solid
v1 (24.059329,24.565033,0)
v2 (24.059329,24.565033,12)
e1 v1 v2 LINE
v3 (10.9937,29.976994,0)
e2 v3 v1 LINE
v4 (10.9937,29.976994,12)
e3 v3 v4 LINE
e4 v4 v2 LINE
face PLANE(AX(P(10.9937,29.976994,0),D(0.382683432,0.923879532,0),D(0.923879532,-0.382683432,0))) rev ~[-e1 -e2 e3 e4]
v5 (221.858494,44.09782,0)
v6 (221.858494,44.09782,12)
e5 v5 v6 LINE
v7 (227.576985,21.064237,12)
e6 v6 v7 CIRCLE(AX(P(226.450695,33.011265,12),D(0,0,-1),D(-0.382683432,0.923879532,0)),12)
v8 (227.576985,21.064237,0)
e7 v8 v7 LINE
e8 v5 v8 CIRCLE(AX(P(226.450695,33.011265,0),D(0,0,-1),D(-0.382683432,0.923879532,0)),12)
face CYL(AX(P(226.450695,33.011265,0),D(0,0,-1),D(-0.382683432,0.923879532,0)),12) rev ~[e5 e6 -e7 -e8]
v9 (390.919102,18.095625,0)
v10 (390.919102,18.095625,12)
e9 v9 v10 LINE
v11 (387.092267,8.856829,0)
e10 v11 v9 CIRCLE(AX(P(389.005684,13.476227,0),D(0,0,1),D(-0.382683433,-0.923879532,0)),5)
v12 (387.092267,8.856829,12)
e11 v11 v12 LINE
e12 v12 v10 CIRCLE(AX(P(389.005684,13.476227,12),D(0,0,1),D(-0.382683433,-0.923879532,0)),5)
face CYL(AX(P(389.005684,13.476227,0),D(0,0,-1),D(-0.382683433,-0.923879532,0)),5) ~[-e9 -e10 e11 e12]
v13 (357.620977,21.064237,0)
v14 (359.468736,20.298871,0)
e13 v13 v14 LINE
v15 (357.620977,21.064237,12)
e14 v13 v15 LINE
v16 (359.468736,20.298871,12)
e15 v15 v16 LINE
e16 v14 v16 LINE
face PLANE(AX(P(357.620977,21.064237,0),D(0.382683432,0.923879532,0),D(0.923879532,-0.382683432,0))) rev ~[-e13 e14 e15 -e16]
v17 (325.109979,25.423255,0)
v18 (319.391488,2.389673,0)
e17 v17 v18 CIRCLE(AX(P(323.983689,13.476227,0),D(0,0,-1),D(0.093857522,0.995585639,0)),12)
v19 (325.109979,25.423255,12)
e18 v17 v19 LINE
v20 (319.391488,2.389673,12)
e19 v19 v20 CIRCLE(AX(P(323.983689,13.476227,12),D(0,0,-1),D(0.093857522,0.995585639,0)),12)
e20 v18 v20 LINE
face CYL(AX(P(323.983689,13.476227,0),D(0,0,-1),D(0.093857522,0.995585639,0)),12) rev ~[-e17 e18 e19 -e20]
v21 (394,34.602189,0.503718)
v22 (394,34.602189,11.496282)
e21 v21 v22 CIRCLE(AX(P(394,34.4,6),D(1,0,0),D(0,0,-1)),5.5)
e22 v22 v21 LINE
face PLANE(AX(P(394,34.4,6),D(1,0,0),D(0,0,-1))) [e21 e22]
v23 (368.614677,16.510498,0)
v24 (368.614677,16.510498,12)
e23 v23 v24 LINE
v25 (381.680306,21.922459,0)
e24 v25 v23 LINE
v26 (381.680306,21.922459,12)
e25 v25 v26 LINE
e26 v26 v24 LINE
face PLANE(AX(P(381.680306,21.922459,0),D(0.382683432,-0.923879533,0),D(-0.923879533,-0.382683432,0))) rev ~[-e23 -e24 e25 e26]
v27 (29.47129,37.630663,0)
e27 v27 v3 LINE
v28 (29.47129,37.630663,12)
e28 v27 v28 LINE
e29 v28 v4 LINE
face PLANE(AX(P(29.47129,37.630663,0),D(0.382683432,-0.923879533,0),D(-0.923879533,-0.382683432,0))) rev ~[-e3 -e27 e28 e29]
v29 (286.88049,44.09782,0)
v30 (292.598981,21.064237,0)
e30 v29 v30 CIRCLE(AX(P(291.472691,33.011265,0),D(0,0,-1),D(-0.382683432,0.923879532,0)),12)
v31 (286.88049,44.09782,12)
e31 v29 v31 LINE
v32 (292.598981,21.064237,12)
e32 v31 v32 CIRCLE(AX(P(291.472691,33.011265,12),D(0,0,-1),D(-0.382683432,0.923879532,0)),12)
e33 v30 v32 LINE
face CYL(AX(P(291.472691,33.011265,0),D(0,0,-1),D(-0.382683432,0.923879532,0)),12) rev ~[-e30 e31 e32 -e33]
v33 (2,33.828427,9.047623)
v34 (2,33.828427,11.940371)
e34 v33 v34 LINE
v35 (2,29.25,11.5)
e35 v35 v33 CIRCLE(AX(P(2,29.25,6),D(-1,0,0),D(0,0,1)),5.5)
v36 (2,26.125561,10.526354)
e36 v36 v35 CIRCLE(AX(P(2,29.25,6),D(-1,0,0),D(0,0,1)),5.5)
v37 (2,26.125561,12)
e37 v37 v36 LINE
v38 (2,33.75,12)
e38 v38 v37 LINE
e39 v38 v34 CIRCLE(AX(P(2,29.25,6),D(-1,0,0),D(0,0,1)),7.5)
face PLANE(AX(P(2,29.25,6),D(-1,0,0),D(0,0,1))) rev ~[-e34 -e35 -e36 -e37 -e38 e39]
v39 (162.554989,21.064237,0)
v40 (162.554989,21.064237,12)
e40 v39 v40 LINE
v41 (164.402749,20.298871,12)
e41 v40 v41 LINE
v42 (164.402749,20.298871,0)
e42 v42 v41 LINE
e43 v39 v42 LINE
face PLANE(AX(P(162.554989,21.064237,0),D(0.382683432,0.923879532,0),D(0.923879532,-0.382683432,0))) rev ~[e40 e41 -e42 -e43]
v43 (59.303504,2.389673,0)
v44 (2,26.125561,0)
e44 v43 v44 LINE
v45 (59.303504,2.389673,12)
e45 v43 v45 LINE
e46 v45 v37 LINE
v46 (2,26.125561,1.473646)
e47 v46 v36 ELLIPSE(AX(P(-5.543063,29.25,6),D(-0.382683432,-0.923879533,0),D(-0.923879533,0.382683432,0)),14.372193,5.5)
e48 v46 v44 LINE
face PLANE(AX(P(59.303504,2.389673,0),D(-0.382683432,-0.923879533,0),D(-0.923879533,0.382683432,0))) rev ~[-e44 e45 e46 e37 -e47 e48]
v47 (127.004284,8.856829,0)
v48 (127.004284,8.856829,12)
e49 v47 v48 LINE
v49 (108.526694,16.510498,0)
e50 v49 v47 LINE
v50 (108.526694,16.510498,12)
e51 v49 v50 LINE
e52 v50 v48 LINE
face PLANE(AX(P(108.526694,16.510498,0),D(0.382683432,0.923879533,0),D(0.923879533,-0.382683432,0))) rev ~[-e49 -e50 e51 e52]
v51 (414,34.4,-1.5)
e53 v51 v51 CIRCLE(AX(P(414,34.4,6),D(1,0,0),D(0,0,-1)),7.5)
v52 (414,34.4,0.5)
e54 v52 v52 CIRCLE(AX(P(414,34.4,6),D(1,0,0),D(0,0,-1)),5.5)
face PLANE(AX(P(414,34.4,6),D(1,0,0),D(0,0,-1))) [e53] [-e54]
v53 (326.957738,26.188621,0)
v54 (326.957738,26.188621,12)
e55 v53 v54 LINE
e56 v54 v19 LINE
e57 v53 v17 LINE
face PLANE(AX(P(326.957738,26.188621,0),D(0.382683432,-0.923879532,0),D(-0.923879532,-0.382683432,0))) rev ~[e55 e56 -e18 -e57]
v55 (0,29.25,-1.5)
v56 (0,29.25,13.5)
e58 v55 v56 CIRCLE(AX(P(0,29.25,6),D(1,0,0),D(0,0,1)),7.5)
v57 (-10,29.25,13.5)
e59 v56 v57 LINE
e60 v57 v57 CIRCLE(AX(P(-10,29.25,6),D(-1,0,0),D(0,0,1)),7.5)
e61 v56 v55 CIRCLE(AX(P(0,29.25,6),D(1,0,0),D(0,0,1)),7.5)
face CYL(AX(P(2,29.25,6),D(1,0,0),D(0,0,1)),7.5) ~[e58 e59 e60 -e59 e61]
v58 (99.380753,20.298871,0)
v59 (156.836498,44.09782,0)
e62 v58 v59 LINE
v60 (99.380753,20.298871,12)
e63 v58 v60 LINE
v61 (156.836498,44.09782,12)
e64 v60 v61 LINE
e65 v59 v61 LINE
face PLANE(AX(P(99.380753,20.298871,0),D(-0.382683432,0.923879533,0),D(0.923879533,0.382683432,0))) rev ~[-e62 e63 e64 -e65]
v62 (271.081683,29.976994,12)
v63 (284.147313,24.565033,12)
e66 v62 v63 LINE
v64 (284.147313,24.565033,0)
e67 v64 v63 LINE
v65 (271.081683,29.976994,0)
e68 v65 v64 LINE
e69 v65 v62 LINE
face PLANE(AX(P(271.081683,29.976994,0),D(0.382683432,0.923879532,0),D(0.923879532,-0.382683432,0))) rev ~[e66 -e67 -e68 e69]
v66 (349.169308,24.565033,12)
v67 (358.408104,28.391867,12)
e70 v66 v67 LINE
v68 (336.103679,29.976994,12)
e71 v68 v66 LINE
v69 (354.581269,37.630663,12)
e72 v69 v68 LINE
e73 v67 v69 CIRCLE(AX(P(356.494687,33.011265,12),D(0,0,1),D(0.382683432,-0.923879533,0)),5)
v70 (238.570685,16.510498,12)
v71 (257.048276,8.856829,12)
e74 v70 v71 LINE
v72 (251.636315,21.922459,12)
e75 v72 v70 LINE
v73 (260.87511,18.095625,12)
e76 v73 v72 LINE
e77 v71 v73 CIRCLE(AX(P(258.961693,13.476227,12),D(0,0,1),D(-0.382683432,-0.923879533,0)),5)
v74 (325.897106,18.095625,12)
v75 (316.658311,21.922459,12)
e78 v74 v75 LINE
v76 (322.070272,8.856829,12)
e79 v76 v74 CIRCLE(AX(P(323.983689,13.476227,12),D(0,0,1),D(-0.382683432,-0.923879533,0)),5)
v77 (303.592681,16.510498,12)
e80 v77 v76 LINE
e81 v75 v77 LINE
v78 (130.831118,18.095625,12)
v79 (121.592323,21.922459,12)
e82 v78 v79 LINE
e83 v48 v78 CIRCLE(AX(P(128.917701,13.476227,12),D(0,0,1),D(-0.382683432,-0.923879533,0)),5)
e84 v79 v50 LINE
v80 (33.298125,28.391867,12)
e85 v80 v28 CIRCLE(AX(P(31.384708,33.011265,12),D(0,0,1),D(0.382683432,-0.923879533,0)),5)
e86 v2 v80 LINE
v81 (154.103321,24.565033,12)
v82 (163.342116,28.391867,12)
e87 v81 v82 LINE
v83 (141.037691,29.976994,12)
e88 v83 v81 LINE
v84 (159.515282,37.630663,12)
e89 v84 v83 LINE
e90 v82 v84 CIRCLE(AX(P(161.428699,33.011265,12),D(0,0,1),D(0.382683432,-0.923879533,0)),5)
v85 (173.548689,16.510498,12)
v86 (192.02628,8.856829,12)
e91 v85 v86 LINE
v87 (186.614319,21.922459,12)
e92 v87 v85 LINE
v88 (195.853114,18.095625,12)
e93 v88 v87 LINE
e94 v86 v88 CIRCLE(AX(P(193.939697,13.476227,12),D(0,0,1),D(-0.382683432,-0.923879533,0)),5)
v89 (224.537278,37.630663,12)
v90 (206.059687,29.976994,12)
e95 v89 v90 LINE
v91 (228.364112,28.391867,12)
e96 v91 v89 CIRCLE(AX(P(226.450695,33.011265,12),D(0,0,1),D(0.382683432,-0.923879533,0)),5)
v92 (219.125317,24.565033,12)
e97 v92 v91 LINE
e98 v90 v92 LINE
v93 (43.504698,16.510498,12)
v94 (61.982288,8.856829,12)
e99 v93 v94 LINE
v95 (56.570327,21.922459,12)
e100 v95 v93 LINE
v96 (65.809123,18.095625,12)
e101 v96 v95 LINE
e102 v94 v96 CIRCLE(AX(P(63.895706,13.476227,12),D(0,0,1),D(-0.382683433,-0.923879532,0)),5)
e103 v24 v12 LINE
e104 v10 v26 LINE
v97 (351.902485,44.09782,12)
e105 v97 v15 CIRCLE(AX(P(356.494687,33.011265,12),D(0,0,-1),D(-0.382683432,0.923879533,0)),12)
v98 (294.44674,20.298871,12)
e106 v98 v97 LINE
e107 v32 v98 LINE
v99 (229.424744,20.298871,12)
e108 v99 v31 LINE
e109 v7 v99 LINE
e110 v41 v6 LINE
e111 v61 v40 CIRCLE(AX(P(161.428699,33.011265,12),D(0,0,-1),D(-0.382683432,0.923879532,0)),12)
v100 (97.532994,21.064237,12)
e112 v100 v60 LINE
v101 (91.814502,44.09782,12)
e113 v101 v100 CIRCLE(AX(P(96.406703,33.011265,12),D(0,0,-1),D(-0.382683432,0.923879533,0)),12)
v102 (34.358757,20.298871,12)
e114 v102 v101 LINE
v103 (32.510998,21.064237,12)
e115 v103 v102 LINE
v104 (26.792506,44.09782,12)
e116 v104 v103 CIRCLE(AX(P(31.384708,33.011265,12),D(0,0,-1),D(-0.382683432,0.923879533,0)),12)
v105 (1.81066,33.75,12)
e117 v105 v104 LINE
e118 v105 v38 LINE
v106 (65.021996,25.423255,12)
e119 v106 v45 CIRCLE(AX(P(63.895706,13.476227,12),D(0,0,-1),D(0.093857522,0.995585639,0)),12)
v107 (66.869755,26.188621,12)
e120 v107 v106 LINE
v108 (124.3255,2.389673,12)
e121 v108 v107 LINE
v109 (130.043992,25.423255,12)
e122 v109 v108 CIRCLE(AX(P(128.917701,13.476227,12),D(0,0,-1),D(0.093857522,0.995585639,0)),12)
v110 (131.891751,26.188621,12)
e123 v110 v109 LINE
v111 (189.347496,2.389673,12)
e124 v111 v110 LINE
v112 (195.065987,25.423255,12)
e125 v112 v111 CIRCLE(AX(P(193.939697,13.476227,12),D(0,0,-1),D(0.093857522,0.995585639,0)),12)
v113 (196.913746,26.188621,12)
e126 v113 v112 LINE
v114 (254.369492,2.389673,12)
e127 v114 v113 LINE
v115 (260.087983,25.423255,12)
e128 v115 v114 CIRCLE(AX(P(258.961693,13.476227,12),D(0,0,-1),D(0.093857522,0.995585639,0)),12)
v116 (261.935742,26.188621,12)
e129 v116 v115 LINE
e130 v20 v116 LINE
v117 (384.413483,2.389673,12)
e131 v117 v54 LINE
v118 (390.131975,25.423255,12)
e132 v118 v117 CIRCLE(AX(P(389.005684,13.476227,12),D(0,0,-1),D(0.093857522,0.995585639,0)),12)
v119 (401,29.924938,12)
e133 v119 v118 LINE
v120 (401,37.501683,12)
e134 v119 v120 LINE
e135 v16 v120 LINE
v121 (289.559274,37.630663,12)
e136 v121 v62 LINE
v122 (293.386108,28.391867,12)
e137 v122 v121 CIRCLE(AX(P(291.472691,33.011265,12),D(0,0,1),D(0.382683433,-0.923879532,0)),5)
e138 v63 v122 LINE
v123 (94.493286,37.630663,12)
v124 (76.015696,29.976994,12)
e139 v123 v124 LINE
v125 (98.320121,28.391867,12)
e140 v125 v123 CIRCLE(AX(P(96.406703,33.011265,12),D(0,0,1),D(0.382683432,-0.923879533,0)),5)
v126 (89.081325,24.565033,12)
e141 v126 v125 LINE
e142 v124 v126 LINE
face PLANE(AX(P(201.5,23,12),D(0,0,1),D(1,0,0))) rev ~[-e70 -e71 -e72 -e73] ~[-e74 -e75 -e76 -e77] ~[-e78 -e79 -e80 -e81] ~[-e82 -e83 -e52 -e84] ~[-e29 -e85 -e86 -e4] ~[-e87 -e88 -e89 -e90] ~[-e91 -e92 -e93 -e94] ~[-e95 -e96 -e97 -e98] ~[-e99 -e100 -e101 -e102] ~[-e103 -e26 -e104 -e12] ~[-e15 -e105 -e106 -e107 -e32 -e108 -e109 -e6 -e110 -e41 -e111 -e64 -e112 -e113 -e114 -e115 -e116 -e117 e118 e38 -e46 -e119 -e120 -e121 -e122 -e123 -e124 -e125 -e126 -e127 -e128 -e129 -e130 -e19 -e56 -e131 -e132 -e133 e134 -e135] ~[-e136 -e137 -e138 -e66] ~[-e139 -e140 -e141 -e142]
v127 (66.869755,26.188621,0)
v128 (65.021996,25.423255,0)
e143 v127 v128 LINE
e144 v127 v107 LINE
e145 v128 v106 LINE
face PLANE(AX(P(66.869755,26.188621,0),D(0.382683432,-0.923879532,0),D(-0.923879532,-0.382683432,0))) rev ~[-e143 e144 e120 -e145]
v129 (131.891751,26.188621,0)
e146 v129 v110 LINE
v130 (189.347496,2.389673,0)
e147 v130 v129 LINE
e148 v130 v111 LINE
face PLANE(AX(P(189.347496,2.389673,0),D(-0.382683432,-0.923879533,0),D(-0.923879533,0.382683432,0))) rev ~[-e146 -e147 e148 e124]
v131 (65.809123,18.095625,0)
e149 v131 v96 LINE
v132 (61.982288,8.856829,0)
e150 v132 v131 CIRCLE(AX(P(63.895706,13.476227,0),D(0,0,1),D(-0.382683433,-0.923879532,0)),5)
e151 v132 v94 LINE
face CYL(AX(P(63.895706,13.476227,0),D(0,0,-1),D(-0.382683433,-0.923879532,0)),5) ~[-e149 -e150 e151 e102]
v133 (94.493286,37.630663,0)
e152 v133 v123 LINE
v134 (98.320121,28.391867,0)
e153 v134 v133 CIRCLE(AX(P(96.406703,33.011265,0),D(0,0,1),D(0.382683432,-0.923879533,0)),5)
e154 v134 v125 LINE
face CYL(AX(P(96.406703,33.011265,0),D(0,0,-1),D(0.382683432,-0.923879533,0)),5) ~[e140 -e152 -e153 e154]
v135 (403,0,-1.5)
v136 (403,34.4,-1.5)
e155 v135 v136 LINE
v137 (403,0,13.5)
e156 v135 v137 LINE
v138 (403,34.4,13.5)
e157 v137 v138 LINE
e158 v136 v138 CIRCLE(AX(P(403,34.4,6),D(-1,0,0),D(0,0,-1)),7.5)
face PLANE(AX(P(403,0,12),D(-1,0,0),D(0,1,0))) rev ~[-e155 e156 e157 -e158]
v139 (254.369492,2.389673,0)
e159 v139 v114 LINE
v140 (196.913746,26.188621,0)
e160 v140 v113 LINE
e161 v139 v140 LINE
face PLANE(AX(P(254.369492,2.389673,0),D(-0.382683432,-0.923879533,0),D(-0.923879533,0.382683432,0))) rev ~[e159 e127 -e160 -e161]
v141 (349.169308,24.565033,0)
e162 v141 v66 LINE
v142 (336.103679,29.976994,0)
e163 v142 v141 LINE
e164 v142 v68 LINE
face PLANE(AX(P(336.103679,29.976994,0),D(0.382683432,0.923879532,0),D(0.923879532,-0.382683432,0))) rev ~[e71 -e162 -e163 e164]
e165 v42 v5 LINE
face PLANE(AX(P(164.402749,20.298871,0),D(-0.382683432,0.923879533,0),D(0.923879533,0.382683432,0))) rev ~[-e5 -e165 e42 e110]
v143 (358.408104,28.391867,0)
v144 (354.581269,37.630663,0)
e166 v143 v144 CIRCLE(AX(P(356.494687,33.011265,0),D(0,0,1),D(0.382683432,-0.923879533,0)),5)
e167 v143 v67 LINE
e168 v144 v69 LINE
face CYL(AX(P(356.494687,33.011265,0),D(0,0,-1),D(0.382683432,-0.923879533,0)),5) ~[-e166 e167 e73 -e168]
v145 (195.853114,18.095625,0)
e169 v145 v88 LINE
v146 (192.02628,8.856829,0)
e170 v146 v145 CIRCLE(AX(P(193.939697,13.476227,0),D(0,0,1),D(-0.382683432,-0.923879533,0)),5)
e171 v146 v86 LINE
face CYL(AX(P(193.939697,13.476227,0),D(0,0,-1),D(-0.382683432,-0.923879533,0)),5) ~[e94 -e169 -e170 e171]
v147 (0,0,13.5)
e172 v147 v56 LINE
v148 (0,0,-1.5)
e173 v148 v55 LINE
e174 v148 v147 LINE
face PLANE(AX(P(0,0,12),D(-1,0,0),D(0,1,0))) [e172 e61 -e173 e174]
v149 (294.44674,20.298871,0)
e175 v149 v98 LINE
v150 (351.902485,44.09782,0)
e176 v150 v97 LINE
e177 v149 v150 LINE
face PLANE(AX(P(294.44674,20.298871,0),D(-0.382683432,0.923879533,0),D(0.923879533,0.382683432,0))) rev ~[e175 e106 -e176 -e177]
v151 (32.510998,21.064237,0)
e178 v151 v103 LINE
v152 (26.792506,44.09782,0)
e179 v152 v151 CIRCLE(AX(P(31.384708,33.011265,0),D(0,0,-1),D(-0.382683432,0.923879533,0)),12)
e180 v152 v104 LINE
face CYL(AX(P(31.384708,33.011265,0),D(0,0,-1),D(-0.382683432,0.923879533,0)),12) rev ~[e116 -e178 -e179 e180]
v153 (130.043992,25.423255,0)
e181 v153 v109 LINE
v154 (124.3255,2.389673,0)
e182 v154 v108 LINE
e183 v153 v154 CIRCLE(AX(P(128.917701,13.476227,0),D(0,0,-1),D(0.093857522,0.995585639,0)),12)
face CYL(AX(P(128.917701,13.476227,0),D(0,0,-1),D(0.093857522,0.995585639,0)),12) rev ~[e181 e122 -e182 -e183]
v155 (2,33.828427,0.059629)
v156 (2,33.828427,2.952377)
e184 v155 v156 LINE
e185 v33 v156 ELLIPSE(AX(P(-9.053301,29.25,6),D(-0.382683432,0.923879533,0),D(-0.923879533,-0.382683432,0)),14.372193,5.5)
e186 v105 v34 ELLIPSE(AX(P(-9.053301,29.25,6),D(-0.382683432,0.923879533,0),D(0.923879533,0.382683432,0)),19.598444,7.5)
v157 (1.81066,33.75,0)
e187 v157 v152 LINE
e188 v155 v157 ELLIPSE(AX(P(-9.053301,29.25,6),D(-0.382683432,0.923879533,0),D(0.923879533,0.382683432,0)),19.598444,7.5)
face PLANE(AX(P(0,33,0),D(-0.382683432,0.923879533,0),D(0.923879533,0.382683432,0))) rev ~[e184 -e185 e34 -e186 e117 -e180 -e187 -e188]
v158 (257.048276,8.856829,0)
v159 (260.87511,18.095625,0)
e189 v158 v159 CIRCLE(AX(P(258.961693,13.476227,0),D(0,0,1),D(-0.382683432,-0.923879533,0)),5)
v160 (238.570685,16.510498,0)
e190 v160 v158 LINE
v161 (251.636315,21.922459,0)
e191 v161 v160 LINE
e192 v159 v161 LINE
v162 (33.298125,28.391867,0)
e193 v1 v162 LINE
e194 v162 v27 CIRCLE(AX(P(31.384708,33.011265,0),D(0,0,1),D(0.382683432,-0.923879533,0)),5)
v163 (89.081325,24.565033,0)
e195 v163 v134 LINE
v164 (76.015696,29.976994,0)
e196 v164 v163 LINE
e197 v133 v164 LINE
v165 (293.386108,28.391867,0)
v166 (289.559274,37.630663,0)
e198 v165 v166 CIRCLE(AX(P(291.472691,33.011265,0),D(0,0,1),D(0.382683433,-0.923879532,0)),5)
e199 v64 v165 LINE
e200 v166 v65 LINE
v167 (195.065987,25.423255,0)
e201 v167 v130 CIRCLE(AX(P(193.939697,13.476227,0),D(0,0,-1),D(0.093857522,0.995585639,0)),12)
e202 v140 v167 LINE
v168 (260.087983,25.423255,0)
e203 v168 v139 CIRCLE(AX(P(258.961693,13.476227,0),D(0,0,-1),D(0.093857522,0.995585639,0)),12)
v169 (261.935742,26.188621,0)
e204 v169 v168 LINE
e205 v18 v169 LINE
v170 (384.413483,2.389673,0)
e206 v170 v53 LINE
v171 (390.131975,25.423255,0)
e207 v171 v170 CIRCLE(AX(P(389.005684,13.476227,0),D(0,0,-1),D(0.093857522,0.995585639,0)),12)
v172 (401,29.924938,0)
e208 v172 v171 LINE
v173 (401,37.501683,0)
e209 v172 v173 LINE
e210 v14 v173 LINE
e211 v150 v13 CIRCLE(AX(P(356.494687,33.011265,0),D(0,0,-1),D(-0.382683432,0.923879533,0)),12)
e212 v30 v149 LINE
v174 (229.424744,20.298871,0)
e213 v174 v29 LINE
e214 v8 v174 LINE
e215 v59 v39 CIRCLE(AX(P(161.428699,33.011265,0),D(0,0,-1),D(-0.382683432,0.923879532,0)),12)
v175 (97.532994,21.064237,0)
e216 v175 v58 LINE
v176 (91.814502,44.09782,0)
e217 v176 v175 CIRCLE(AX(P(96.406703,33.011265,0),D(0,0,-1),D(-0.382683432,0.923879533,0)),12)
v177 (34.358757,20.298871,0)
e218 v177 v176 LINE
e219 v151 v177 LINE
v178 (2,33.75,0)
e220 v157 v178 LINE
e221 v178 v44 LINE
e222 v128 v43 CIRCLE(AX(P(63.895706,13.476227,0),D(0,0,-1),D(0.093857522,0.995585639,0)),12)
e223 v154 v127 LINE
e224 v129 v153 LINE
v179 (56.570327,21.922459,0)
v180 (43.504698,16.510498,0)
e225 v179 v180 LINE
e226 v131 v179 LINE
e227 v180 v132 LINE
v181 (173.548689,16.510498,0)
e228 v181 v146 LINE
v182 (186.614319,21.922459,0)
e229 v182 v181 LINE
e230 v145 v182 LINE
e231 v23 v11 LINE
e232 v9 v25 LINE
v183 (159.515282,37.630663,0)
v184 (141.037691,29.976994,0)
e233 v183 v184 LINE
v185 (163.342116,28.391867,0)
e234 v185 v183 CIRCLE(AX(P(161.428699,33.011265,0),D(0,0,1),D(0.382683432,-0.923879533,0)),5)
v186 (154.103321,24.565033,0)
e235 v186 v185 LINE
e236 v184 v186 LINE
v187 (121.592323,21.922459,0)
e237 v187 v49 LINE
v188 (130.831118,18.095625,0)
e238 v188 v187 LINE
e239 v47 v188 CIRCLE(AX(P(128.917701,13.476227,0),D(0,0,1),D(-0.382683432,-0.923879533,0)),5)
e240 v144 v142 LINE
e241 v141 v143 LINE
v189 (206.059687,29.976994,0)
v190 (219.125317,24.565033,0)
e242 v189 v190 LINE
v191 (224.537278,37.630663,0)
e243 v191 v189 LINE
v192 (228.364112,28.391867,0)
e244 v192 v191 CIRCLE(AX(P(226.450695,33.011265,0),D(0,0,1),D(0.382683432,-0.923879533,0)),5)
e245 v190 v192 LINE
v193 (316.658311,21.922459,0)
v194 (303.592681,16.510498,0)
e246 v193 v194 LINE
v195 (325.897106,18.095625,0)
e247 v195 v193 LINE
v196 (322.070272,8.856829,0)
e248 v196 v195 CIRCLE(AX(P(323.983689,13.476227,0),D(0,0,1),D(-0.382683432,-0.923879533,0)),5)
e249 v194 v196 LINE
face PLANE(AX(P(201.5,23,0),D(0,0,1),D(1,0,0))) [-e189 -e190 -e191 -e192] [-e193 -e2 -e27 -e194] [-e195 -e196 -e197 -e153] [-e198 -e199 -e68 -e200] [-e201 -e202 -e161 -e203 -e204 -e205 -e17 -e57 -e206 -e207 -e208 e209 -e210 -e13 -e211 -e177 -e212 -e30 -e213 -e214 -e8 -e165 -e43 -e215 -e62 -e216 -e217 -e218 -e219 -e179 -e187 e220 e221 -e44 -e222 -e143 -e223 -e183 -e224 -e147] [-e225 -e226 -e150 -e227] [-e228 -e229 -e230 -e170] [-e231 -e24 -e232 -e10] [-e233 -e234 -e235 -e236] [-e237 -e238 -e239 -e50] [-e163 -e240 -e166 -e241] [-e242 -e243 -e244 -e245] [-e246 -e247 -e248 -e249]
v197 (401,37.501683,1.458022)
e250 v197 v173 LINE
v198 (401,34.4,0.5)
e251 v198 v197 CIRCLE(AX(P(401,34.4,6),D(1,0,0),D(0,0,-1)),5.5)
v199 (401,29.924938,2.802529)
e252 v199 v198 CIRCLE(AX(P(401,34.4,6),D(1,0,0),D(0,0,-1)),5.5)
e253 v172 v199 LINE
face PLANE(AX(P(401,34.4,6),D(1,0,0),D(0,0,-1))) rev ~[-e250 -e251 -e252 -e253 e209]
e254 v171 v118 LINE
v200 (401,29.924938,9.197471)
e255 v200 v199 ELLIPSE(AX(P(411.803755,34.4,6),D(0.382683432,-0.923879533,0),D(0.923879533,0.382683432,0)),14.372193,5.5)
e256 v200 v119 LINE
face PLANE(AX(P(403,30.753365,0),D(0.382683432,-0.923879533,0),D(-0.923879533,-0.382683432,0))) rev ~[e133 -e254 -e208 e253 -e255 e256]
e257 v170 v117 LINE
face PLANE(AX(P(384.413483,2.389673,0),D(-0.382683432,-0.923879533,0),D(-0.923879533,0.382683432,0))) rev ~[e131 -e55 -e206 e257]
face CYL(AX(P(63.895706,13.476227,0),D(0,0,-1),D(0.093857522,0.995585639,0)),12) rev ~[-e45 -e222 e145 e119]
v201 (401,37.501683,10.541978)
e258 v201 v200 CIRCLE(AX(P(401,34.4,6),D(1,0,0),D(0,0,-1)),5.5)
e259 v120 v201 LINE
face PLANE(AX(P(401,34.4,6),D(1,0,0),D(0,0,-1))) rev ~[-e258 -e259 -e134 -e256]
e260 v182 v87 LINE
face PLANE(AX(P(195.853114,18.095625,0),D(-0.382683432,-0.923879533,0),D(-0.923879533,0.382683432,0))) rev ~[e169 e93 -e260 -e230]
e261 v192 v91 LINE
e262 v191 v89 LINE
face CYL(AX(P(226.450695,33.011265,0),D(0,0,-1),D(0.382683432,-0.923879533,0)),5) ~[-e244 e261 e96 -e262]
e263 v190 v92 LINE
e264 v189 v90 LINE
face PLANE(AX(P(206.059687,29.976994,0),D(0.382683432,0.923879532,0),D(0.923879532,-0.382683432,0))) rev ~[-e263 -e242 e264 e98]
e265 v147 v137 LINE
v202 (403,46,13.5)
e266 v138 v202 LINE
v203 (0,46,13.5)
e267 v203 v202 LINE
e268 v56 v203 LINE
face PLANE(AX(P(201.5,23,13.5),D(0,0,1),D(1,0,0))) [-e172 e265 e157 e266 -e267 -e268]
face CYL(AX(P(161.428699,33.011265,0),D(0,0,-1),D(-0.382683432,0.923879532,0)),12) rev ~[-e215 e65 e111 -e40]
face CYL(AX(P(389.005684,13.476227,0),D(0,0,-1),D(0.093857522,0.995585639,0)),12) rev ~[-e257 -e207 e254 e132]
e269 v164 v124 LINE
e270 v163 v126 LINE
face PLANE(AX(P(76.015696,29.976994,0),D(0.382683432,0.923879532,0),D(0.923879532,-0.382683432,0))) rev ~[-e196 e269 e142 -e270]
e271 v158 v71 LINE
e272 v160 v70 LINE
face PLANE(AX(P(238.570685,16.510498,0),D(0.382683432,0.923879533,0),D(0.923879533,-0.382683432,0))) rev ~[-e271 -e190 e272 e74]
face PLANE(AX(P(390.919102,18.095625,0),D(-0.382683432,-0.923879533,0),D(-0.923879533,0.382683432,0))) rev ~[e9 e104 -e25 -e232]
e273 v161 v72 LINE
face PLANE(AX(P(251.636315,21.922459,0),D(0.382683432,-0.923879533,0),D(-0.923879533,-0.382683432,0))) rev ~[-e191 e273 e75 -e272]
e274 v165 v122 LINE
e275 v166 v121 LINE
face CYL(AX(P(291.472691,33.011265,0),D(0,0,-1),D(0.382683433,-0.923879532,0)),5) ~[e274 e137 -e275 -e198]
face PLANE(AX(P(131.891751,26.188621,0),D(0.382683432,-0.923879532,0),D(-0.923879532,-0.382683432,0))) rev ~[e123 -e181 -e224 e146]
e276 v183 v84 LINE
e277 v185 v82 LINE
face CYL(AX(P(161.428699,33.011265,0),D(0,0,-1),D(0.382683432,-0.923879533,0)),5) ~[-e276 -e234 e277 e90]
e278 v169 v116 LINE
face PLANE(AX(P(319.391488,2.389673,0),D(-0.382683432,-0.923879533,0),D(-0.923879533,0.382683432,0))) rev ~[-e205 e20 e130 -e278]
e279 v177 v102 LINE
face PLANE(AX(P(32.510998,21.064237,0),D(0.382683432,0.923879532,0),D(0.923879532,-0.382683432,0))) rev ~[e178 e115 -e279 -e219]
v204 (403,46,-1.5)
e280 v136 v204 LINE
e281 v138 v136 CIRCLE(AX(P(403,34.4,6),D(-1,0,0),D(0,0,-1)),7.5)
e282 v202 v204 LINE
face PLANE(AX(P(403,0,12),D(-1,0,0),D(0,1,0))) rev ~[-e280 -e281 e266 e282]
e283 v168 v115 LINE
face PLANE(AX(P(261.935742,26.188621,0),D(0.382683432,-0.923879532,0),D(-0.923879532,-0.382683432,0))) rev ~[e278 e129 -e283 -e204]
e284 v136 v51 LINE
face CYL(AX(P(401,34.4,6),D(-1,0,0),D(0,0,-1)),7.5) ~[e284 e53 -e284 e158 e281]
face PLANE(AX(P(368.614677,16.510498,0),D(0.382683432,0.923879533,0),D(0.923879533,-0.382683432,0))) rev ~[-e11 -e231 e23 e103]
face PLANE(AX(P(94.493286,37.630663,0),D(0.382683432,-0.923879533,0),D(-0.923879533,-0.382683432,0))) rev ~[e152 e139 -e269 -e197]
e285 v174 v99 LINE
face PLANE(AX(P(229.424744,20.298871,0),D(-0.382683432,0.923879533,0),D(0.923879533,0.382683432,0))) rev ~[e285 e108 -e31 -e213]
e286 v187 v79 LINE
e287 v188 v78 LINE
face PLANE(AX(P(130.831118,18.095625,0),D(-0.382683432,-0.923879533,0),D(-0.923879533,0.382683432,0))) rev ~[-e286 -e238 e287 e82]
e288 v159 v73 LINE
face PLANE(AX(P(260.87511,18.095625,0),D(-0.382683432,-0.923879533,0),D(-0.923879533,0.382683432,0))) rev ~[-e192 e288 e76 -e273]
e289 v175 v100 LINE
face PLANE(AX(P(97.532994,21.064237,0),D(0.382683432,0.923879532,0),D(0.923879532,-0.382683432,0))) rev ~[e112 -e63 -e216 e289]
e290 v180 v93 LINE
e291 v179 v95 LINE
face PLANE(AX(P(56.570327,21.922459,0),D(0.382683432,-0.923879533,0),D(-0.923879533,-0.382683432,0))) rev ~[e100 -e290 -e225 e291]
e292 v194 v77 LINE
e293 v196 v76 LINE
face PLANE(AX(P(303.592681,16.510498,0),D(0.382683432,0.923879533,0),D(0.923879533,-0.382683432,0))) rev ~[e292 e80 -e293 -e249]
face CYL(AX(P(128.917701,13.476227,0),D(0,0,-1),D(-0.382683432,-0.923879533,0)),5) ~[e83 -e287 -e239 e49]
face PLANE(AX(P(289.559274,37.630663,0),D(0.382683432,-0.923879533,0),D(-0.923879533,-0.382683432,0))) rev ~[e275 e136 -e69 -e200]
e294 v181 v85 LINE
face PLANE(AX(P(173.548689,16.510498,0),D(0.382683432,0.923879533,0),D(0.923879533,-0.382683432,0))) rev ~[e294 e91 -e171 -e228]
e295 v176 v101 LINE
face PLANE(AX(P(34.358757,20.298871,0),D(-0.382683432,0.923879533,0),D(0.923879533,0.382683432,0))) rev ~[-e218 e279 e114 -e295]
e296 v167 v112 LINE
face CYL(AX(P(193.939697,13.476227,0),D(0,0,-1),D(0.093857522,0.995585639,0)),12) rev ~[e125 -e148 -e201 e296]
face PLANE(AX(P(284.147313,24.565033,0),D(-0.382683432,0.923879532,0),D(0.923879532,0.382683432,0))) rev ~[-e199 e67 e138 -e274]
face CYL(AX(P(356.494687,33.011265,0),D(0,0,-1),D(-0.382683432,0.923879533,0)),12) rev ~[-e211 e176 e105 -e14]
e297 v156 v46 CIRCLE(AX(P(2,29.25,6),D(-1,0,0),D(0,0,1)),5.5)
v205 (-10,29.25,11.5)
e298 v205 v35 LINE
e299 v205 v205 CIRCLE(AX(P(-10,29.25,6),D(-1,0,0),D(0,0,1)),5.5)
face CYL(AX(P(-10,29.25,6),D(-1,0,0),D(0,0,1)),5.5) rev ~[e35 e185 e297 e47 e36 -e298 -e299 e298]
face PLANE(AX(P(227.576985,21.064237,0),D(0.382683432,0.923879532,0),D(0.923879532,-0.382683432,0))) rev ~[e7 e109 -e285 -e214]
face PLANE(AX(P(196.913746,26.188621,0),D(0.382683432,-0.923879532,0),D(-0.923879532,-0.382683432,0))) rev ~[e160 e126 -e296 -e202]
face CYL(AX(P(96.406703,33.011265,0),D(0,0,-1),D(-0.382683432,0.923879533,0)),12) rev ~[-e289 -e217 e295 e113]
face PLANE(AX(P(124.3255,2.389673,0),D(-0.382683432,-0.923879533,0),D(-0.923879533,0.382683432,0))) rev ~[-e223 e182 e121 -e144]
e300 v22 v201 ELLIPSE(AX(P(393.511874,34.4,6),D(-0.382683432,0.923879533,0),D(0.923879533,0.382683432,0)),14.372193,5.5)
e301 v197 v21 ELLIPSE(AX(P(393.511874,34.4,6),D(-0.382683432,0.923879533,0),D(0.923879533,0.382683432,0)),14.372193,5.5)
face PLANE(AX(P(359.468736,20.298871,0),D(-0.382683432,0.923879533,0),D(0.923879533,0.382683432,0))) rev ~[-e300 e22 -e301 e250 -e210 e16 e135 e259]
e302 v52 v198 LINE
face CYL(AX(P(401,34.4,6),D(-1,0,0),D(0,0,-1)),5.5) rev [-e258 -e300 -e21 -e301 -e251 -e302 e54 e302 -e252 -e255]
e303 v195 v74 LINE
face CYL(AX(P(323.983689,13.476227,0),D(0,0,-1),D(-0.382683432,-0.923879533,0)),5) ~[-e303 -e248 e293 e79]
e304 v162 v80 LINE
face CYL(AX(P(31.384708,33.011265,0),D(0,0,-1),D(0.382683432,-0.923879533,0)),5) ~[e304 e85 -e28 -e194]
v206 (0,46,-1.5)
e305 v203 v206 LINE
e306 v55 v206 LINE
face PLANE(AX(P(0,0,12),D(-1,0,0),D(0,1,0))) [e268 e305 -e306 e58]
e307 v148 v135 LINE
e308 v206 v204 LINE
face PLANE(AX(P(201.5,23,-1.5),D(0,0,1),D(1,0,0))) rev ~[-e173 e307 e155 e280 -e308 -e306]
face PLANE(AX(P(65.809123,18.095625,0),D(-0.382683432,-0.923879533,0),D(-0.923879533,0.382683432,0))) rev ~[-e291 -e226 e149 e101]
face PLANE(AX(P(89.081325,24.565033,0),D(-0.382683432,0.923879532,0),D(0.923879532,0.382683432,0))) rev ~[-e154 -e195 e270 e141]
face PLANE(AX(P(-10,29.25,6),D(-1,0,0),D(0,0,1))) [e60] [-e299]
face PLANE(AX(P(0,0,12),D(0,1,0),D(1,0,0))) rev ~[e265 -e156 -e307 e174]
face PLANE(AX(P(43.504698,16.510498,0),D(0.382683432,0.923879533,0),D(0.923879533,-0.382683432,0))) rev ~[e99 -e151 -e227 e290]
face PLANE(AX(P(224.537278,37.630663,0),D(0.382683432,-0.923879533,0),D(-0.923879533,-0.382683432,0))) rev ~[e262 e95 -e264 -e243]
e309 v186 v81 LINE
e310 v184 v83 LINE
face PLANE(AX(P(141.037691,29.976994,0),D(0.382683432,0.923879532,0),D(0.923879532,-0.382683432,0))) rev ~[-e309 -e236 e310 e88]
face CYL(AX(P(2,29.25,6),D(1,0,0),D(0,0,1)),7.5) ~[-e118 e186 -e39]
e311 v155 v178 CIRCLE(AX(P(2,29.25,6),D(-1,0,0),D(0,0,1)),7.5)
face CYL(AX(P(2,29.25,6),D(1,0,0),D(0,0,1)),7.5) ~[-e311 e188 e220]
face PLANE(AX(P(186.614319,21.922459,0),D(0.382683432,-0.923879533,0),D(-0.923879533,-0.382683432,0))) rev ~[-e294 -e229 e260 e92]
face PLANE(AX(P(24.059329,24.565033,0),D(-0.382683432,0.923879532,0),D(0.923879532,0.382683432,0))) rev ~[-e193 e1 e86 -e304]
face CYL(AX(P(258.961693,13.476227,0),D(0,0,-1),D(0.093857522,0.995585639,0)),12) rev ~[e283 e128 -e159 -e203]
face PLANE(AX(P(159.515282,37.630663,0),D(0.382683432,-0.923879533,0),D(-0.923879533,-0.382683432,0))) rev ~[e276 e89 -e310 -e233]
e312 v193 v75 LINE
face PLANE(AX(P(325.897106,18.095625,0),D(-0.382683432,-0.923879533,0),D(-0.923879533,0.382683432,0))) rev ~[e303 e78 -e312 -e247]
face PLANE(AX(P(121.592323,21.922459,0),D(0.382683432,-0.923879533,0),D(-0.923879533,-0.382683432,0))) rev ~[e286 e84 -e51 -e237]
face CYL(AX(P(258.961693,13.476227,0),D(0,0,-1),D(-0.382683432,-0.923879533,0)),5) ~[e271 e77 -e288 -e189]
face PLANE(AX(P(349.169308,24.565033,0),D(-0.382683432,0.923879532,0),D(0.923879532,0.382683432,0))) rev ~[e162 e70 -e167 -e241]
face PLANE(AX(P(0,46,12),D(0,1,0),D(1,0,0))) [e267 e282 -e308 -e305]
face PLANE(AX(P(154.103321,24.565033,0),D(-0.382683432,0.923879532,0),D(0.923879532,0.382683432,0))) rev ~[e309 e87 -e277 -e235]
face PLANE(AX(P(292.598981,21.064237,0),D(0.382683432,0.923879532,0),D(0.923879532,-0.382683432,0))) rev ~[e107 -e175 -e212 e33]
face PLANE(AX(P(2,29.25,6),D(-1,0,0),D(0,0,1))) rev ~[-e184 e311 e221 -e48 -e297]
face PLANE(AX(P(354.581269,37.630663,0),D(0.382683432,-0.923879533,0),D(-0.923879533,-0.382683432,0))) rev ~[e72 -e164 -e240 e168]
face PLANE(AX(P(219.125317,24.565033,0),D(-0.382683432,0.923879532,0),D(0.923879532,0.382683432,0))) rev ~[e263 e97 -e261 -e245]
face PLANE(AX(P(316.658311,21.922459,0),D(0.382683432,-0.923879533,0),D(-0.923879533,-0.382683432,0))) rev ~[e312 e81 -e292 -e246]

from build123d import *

# Parameters (mm, degrees)
DODANIE_WYCI_GNI_CIE1_DEPTH      = 12
DODANIE_WYCI_GNI_CIE1_2_DEPTH    = 12
DODANIE_WYCI_GNI_CIE1_3_DEPTH    = 12
DODANIE_WYCI_GNI_CIE1_4_DEPTH    = 12
DODANIE_WYCI_GNI_CIE1_5_DEPTH    = 12
DODANIE_WYCI_GNI_CIE1_6_DEPTH    = 12
DODANIE_WYCI_GNI_CIE1_7_DEPTH    = 12
DODANIE_WYCI_GNI_CIE1_8_DEPTH    = 12
DODANIE_WYCI_GNI_CIE1_9_DEPTH    = 12
DODANIE_WYCI_GNI_CIE1_10_DEPTH   = 12
DODANIE_WYCI_GNI_CIE1_11_DEPTH   = 12
DODANIE_WYCI_GNI_CIE1_12_DEPTH   = 12
DODANIE_WYCI_GNI_CIE1_13_DEPTH   = 12
DODANIE_WYCI_GNI_CIE1_14_DEPTH   = 12
SZKIC1_3_W                       = 403
SZKIC1_3_H                       = 46
DODANIE_WYCI_GNI_CIE2_DEPTH      = 1.5
DODANIE_WYCI_GNI_CIE3_START      = 12
SZKIC1_4_W                       = 403
SZKIC1_4_H                       = 46
DODANIE_WYCI_GNI_CIE3_DEPTH      = 1.5
DODANIE_WYCI_GNI_CIE6_DEPTH      = 10
DODANIE_WYCI_GNI_CIE6_DEPTH_BACK = 2
SZKIC2_R                         = 7.5
SZKIC3_R                         = 5.5
WYTNIJ_WYCI_GNI_CIE1_DEPTH       = 18
DODANIE_WYCI_GNI_CIE8_DEPTH      = 11
DODANIE_WYCI_GNI_CIE8_DEPTH_BACK = 2
SZKIC4_R                         = 7.5
SZKIC4_R_2                       = 5.5
SZKIC4_2_R                       = 5.5
WYTNIJ_WYCI_GNI_CIE2_DEPTH       = 9


with BuildPart() as part:
    # Szkic1 → Dodanie-wyciągnięcie1 (new body)
    with BuildSketch(Plane.XY):
        with BuildLine():
            Line((0, 46), (0, 33))
            Line((0, 33), (26.792506443, 44.097819539))
            ThreePointArc((26.792506443, 44.097819539), (43.03114959, 35.902698996), (32.510997896, 21.064237475))
            Line((32.510997896, 21.064237475), (34.358756961, 20.29887061))
            Line((34.358756961, 20.29887061), (91.814502235, 44.097819539))
            ThreePointArc((91.814502235, 44.097819539), (108.053145382, 35.902698996), (97.532993688, 21.064237475))
            Line((97.532993688, 21.064237475), (99.380752753, 20.29887061))
            Line((99.380752753, 20.29887061), (156.836498027, 44.097819539))
            ThreePointArc((156.836498027, 44.097819539), (173.075141175, 35.902698996), (162.55498948, 21.064237475))
            Line((162.55498948, 21.064237475), (164.402748545, 20.29887061))
            Line((164.402748545, 20.29887061), (221.858493819, 44.097819539))
            ThreePointArc((221.858493819, 44.097819539), (238.097136967, 35.902698996), (227.576985273, 21.064237475))
            Line((227.576985273, 21.064237475), (229.424744338, 20.29887061))
            Line((229.424744338, 20.29887061), (286.880489611, 44.097819539))
            ThreePointArc((286.880489611, 44.097819539), (303.119132759, 35.902698996), (292.598981065, 21.064237475))
            Line((292.598981065, 21.064237475), (294.44674013, 20.29887061))
            Line((294.44674013, 20.29887061), (351.902485404, 44.097819539))
            ThreePointArc((351.902485404, 44.097819539), (368.141128551, 35.902698996), (357.620976857, 21.064237475))
            Line((357.620976857, 21.064237475), (359.468735922, 20.29887061))
            Line((359.468735922, 20.29887061), (403, 38.330110578))
            Line((403, 38.330110578), (403, 46))
            Line((403, 46), (0, 46))
        make_face()
    extrude(amount=DODANIE_WYCI_GNI_CIE1_DEPTH)



with BuildPart() as body_2:
    # Szkic1 → Dodanie-wyci_gni_cie1 2 (new body)
    with BuildSketch(Plane.XY):
        with BuildLine():
            Line((1.847759065, 26.188621463), (0, 25.423254598))
            Line((0, 25.423254598), (0, 0))
            Line((0, 0), (403, 0))
            Line((403, 0), (403, 30.753365176))
            Line((403, 30.753365176), (390.131974753, 25.423254598))
            ThreePointArc((390.131974753, 25.423254598), (400.652126447, 10.584793077), (384.4134833, 2.389672534))
            Line((384.4134833, 2.389672534), (326.957738026, 26.188621463))
            Line((326.957738026, 26.188621463), (325.109978961, 25.423254598))
            ThreePointArc((325.109978961, 25.423254598), (335.630130655, 10.584793077), (319.391487508, 2.389672534))
            Line((319.391487508, 2.389672534), (261.935742234, 26.188621463))
            Line((261.935742234, 26.188621463), (260.087983169, 25.423254598))
            ThreePointArc((260.087983169, 25.423254598), (270.608134863, 10.584793077), (254.369491715, 2.389672534))
            Line((254.369491715, 2.389672534), (196.913746441, 26.188621463))
            Line((196.913746441, 26.188621463), (195.065987376, 25.423254598))
            ThreePointArc((195.065987376, 25.423254598), (205.586139071, 10.584793077), (189.347495923, 2.389672534))
            Line((189.347495923, 2.389672534), (131.891750649, 26.188621463))
            Line((131.891750649, 26.188621463), (130.043991584, 25.423254598))
            ThreePointArc((130.043991584, 25.423254598), (140.564143279, 10.584793077), (124.325500131, 2.389672534))
            Line((124.325500131, 2.389672534), (66.869754857, 26.188621463))
            Line((66.869754857, 26.188621463), (65.021995792, 25.423254598))
            ThreePointArc((65.021995792, 25.423254598), (75.542147486, 10.584793077), (59.303504339, 2.389672534))
            Line((59.303504339, 2.389672534), (1.847759065, 26.188621463))
        make_face()
    extrude(amount=DODANIE_WYCI_GNI_CIE1_2_DEPTH)


with BuildPart() as body_3:
    # Szkic1 → Dodanie-wyci_gni_cie1 3 (new body)
    with BuildSketch(Plane.XY):
        with BuildLine():
            Line((29.471290469, 37.630662811), (10.993699819, 29.976994164))
            Line((10.993699819, 29.976994164), (24.059329468, 24.565033162))
            Line((24.059329468, 24.565033162), (33.298124793, 28.391867486))
            ThreePointArc((33.298124793, 28.391867486), (36.004105294, 34.92468231), (29.471290469, 37.630662811))
        make_face()
    extrude(amount=DODANIE_WYCI_GNI_CIE1_3_DEPTH)


with BuildPart() as body_4:
    # Szkic1 → Dodanie-wyci_gni_cie1 4 (new body)
    with BuildSketch(Plane.XY):
        with BuildLine():
            Line((56.570327364, 21.92245891), (43.504697715, 16.510497909))
            Line((43.504697715, 16.510497909), (61.982288365, 8.856829262))
            ThreePointArc((61.982288365, 8.856829262), (68.51510319, 11.562809762), (65.809122689, 18.095624587))
            Line((65.809122689, 18.095624587), (56.570327364, 21.92245891))
        make_face()
    extrude(amount=DODANIE_WYCI_GNI_CIE1_4_DEPTH)


with BuildPart() as body_5:
    # Szkic1 → Dodanie-wyci_gni_cie1 5 (new body)
    with BuildSketch(Plane.XY):
        with BuildLine():
            Line((94.493286262, 37.630662811), (76.015695611, 29.976994164))
            Line((76.015695611, 29.976994164), (89.08132526, 24.565033162))
            Line((89.08132526, 24.565033162), (98.320120585, 28.391867486))
            ThreePointArc((98.320120585, 28.391867486), (101.026101086, 34.92468231), (94.493286262, 37.630662811))
        make_face()
    extrude(amount=DODANIE_WYCI_GNI_CIE1_5_DEPTH)


with BuildPart() as body_6:
    # Szkic1 → Dodanie-wyci_gni_cie1 6 (new body)
    with BuildSketch(Plane.XY):
        with BuildLine():
            Line((130.831118481, 18.095624587), (121.592323156, 21.92245891))
            Line((121.592323156, 21.92245891), (108.526693507, 16.510497909))
            Line((108.526693507, 16.510497909), (127.004284158, 8.856829262))
            ThreePointArc((127.004284158, 8.856829262), (133.537098982, 11.562809762), (130.831118481, 18.095624587))
        make_face()
    extrude(amount=DODANIE_WYCI_GNI_CIE1_6_DEPTH)


with BuildPart() as body_7:
    # Szkic1 → Dodanie-wyci_gni_cie1 7 (new body)
    with BuildSketch(Plane.XY):
        with BuildLine():
            Line((159.515282054, 37.630662811), (141.037691403, 29.976994164))
            Line((141.037691403, 29.976994164), (154.103321052, 24.565033162))
            Line((154.103321052, 24.565033162), (163.342116377, 28.391867486))
            ThreePointArc((163.342116377, 28.391867486), (166.048096878, 34.92468231), (159.515282054, 37.630662811))
        make_face()
    extrude(amount=DODANIE_WYCI_GNI_CIE1_7_DEPTH)


with BuildPart() as body_8:
    # Szkic1 → Dodanie-wyci_gni_cie1 8 (new body)
    with BuildSketch(Plane.XY):
        with BuildLine():
            Line((195.853114273, 18.095624587), (186.614318948, 21.92245891))
            Line((186.614318948, 21.92245891), (173.5486893, 16.510497909))
            Line((173.5486893, 16.510497909), (192.02627995, 8.856829262))
            ThreePointArc((192.02627995, 8.856829262), (198.559094774, 11.562809762), (195.853114273, 18.095624587))
        make_face()
    extrude(amount=DODANIE_WYCI_GNI_CIE1_8_DEPTH)


with BuildPart() as body_9:
    # Szkic1 → Dodanie-wyci_gni_cie1 9 (new body)
    with BuildSketch(Plane.XY):
        with BuildLine():
            Line((224.537277846, 37.630662811), (206.059687196, 29.976994164))
            Line((206.059687196, 29.976994164), (219.125316844, 24.565033162))
            Line((219.125316844, 24.565033162), (228.364112169, 28.391867486))
            ThreePointArc((228.364112169, 28.391867486), (231.07009267, 34.92468231), (224.537277846, 37.630662811))
        make_face()
    extrude(amount=DODANIE_WYCI_GNI_CIE1_9_DEPTH)


with BuildPart() as body_10:
    # Szkic1 → Dodanie-wyci_gni_cie1 10 (new body)
    with BuildSketch(Plane.XY):
        with BuildLine():
            Line((260.875110066, 18.095624587), (251.63631474, 21.92245891))
            Line((251.63631474, 21.92245891), (238.570685092, 16.510497909))
            Line((238.570685092, 16.510497909), (257.048275742, 8.856829262))
            ThreePointArc((257.048275742, 8.856829262), (263.581090566, 11.562809762), (260.875110066, 18.095624587))
        make_face()
    extrude(amount=DODANIE_WYCI_GNI_CIE1_10_DEPTH)


with BuildPart() as body_11:
    # Szkic1 → Dodanie-wyci_gni_cie1 11 (new body)
    with BuildSketch(Plane.XY):
        with BuildLine():
            Line((289.559273638, 37.630662811), (271.081682988, 29.976994164))
            Line((271.081682988, 29.976994164), (284.147312637, 24.565033162))
            Line((284.147312637, 24.565033162), (293.386107962, 28.391867486))
            ThreePointArc((293.386107962, 28.391867486), (296.092088462, 34.92468231), (289.559273638, 37.630662811))
        make_face()
    extrude(amount=DODANIE_WYCI_GNI_CIE1_11_DEPTH)


with BuildPart() as body_12:
    # Szkic1 → Dodanie-wyci_gni_cie1 12 (new body)
    with BuildSketch(Plane.XY):
        with BuildLine():
            Line((325.897105858, 18.095624587), (316.658310533, 21.92245891))
            Line((316.658310533, 21.92245891), (303.592680884, 16.510497909))
            Line((303.592680884, 16.510497909), (322.070271534, 8.856829262))
            ThreePointArc((322.070271534, 8.856829262), (328.603086358, 11.562809762), (325.897105858, 18.095624587))
        make_face()
    extrude(amount=DODANIE_WYCI_GNI_CIE1_12_DEPTH)


with BuildPart() as body_13:
    # Szkic1 → Dodanie-wyci_gni_cie1 13 (new body)
    with BuildSketch(Plane.XY):
        with BuildLine():
            Line((354.58126943, 37.630662811), (336.10367878, 29.976994164))
            Line((336.10367878, 29.976994164), (349.169308429, 24.565033162))
            Line((349.169308429, 24.565033162), (358.408103754, 28.391867486))
            ThreePointArc((358.408103754, 28.391867486), (361.114084255, 34.92468231), (354.58126943, 37.630662811))
        make_face()
    extrude(amount=DODANIE_WYCI_GNI_CIE1_13_DEPTH)


with BuildPart() as body_14:
    # Szkic1 → Dodanie-wyci_gni_cie1 14 (new body)
    with BuildSketch(Plane.XY):
        with BuildLine():
            Line((390.91910165, 18.095624587), (381.680306325, 21.92245891))
            Line((381.680306325, 21.92245891), (368.614676676, 16.510497909))
            Line((368.614676676, 16.510497909), (387.092267326, 8.856829262))
            ThreePointArc((387.092267326, 8.856829262), (393.625082151, 11.562809762), (390.91910165, 18.095624587))
        make_face()
    extrude(amount=DODANIE_WYCI_GNI_CIE1_14_DEPTH)


with BuildPart() as part_1:
    add(part.part)

    add(body_2.part)  # Dodanie-wyciągnięcie2 merges body 2

    add(body_3.part)  # Dodanie-wyciągnięcie2 merges body 3

    add(body_4.part)  # Dodanie-wyciągnięcie2 merges body 4

    add(body_5.part)  # Dodanie-wyciągnięcie2 merges body 5

    add(body_6.part)  # Dodanie-wyciągnięcie2 merges body 6

    add(body_7.part)  # Dodanie-wyciągnięcie2 merges body 7

    add(body_8.part)  # Dodanie-wyciągnięcie2 merges body 8

    add(body_9.part)  # Dodanie-wyciągnięcie2 merges body 9

    add(body_10.part)  # Dodanie-wyciągnięcie2 merges body 10

    add(body_11.part)  # Dodanie-wyciągnięcie2 merges body 11

    add(body_12.part)  # Dodanie-wyciągnięcie2 merges body 12

    add(body_13.part)  # Dodanie-wyciągnięcie2 merges body 13

    add(body_14.part)  # Dodanie-wyciągnięcie2 merges body 14
    # Szkic1<3> → Dodanie-wyciągnięcie2 (add)
    with BuildSketch(Plane.XY):
        with Locations((201.5, 23)):
            Rectangle(SZKIC1_3_W, SZKIC1_3_H)
    extrude(amount=-DODANIE_WYCI_GNI_CIE2_DEPTH)

    # Szkic1<4> → Dodanie-wyciągnięcie3 (add)
    with BuildSketch(Plane.XY.offset(DODANIE_WYCI_GNI_CIE3_START)):
        with Locations((201.5, 23)):
            Rectangle(SZKIC1_4_W, SZKIC1_4_H)
    extrude(amount=DODANIE_WYCI_GNI_CIE3_DEPTH)

    # Szkic2 → Dodanie-wyciągnięcie6 (add, two sides: drawn at the far end of the back side and taken through both)
    with BuildSketch(Plane.ZY.offset(-DODANIE_WYCI_GNI_CIE6_DEPTH_BACK)):
        with Locations((6, 29.25)):
            Circle(SZKIC2_R)
    extrude(amount=DODANIE_WYCI_GNI_CIE6_DEPTH + DODANIE_WYCI_GNI_CIE6_DEPTH_BACK)

    # Szkic3 → Wytnij-wyciągnięcie1 (cut)
    with BuildSketch(Plane.ZY.offset(10)):
        with Locations((6, 29.25)):
            Circle(SZKIC3_R)
    extrude(amount=-WYTNIJ_WYCI_GNI_CIE1_DEPTH, mode=Mode.SUBTRACT)

    # Szkic4 → Dodanie-wyciągnięcie8 (add, two sides: drawn at the far end of the back side and taken through both)
    with BuildSketch(Plane(origin=(403, 0, 0), x_dir=(0, 0, -1), z_dir=(1, 0, 0)).offset(-DODANIE_WYCI_GNI_CIE8_DEPTH_BACK)):
        with Locations((-6, 34.4)):
            Circle(SZKIC4_R)
        with Locations((-6, 34.4)):
            Circle(SZKIC4_R_2, mode=Mode.SUBTRACT)
    extrude(amount=DODANIE_WYCI_GNI_CIE8_DEPTH + DODANIE_WYCI_GNI_CIE8_DEPTH_BACK)

    # Szkic4<2> → Wytnij-wyciągnięcie2 (cut)
    with BuildSketch(Plane(origin=(403, 0, 0), x_dir=(0, 0, -1), z_dir=(1, 0, 0))):
        with Locations((-6, 34.4)):
            Circle(SZKIC4_2_R)
    extrude(amount=-WYTNIJ_WYCI_GNI_CIE2_DEPTH, mode=Mode.SUBTRACT)


solid = part_1.part
